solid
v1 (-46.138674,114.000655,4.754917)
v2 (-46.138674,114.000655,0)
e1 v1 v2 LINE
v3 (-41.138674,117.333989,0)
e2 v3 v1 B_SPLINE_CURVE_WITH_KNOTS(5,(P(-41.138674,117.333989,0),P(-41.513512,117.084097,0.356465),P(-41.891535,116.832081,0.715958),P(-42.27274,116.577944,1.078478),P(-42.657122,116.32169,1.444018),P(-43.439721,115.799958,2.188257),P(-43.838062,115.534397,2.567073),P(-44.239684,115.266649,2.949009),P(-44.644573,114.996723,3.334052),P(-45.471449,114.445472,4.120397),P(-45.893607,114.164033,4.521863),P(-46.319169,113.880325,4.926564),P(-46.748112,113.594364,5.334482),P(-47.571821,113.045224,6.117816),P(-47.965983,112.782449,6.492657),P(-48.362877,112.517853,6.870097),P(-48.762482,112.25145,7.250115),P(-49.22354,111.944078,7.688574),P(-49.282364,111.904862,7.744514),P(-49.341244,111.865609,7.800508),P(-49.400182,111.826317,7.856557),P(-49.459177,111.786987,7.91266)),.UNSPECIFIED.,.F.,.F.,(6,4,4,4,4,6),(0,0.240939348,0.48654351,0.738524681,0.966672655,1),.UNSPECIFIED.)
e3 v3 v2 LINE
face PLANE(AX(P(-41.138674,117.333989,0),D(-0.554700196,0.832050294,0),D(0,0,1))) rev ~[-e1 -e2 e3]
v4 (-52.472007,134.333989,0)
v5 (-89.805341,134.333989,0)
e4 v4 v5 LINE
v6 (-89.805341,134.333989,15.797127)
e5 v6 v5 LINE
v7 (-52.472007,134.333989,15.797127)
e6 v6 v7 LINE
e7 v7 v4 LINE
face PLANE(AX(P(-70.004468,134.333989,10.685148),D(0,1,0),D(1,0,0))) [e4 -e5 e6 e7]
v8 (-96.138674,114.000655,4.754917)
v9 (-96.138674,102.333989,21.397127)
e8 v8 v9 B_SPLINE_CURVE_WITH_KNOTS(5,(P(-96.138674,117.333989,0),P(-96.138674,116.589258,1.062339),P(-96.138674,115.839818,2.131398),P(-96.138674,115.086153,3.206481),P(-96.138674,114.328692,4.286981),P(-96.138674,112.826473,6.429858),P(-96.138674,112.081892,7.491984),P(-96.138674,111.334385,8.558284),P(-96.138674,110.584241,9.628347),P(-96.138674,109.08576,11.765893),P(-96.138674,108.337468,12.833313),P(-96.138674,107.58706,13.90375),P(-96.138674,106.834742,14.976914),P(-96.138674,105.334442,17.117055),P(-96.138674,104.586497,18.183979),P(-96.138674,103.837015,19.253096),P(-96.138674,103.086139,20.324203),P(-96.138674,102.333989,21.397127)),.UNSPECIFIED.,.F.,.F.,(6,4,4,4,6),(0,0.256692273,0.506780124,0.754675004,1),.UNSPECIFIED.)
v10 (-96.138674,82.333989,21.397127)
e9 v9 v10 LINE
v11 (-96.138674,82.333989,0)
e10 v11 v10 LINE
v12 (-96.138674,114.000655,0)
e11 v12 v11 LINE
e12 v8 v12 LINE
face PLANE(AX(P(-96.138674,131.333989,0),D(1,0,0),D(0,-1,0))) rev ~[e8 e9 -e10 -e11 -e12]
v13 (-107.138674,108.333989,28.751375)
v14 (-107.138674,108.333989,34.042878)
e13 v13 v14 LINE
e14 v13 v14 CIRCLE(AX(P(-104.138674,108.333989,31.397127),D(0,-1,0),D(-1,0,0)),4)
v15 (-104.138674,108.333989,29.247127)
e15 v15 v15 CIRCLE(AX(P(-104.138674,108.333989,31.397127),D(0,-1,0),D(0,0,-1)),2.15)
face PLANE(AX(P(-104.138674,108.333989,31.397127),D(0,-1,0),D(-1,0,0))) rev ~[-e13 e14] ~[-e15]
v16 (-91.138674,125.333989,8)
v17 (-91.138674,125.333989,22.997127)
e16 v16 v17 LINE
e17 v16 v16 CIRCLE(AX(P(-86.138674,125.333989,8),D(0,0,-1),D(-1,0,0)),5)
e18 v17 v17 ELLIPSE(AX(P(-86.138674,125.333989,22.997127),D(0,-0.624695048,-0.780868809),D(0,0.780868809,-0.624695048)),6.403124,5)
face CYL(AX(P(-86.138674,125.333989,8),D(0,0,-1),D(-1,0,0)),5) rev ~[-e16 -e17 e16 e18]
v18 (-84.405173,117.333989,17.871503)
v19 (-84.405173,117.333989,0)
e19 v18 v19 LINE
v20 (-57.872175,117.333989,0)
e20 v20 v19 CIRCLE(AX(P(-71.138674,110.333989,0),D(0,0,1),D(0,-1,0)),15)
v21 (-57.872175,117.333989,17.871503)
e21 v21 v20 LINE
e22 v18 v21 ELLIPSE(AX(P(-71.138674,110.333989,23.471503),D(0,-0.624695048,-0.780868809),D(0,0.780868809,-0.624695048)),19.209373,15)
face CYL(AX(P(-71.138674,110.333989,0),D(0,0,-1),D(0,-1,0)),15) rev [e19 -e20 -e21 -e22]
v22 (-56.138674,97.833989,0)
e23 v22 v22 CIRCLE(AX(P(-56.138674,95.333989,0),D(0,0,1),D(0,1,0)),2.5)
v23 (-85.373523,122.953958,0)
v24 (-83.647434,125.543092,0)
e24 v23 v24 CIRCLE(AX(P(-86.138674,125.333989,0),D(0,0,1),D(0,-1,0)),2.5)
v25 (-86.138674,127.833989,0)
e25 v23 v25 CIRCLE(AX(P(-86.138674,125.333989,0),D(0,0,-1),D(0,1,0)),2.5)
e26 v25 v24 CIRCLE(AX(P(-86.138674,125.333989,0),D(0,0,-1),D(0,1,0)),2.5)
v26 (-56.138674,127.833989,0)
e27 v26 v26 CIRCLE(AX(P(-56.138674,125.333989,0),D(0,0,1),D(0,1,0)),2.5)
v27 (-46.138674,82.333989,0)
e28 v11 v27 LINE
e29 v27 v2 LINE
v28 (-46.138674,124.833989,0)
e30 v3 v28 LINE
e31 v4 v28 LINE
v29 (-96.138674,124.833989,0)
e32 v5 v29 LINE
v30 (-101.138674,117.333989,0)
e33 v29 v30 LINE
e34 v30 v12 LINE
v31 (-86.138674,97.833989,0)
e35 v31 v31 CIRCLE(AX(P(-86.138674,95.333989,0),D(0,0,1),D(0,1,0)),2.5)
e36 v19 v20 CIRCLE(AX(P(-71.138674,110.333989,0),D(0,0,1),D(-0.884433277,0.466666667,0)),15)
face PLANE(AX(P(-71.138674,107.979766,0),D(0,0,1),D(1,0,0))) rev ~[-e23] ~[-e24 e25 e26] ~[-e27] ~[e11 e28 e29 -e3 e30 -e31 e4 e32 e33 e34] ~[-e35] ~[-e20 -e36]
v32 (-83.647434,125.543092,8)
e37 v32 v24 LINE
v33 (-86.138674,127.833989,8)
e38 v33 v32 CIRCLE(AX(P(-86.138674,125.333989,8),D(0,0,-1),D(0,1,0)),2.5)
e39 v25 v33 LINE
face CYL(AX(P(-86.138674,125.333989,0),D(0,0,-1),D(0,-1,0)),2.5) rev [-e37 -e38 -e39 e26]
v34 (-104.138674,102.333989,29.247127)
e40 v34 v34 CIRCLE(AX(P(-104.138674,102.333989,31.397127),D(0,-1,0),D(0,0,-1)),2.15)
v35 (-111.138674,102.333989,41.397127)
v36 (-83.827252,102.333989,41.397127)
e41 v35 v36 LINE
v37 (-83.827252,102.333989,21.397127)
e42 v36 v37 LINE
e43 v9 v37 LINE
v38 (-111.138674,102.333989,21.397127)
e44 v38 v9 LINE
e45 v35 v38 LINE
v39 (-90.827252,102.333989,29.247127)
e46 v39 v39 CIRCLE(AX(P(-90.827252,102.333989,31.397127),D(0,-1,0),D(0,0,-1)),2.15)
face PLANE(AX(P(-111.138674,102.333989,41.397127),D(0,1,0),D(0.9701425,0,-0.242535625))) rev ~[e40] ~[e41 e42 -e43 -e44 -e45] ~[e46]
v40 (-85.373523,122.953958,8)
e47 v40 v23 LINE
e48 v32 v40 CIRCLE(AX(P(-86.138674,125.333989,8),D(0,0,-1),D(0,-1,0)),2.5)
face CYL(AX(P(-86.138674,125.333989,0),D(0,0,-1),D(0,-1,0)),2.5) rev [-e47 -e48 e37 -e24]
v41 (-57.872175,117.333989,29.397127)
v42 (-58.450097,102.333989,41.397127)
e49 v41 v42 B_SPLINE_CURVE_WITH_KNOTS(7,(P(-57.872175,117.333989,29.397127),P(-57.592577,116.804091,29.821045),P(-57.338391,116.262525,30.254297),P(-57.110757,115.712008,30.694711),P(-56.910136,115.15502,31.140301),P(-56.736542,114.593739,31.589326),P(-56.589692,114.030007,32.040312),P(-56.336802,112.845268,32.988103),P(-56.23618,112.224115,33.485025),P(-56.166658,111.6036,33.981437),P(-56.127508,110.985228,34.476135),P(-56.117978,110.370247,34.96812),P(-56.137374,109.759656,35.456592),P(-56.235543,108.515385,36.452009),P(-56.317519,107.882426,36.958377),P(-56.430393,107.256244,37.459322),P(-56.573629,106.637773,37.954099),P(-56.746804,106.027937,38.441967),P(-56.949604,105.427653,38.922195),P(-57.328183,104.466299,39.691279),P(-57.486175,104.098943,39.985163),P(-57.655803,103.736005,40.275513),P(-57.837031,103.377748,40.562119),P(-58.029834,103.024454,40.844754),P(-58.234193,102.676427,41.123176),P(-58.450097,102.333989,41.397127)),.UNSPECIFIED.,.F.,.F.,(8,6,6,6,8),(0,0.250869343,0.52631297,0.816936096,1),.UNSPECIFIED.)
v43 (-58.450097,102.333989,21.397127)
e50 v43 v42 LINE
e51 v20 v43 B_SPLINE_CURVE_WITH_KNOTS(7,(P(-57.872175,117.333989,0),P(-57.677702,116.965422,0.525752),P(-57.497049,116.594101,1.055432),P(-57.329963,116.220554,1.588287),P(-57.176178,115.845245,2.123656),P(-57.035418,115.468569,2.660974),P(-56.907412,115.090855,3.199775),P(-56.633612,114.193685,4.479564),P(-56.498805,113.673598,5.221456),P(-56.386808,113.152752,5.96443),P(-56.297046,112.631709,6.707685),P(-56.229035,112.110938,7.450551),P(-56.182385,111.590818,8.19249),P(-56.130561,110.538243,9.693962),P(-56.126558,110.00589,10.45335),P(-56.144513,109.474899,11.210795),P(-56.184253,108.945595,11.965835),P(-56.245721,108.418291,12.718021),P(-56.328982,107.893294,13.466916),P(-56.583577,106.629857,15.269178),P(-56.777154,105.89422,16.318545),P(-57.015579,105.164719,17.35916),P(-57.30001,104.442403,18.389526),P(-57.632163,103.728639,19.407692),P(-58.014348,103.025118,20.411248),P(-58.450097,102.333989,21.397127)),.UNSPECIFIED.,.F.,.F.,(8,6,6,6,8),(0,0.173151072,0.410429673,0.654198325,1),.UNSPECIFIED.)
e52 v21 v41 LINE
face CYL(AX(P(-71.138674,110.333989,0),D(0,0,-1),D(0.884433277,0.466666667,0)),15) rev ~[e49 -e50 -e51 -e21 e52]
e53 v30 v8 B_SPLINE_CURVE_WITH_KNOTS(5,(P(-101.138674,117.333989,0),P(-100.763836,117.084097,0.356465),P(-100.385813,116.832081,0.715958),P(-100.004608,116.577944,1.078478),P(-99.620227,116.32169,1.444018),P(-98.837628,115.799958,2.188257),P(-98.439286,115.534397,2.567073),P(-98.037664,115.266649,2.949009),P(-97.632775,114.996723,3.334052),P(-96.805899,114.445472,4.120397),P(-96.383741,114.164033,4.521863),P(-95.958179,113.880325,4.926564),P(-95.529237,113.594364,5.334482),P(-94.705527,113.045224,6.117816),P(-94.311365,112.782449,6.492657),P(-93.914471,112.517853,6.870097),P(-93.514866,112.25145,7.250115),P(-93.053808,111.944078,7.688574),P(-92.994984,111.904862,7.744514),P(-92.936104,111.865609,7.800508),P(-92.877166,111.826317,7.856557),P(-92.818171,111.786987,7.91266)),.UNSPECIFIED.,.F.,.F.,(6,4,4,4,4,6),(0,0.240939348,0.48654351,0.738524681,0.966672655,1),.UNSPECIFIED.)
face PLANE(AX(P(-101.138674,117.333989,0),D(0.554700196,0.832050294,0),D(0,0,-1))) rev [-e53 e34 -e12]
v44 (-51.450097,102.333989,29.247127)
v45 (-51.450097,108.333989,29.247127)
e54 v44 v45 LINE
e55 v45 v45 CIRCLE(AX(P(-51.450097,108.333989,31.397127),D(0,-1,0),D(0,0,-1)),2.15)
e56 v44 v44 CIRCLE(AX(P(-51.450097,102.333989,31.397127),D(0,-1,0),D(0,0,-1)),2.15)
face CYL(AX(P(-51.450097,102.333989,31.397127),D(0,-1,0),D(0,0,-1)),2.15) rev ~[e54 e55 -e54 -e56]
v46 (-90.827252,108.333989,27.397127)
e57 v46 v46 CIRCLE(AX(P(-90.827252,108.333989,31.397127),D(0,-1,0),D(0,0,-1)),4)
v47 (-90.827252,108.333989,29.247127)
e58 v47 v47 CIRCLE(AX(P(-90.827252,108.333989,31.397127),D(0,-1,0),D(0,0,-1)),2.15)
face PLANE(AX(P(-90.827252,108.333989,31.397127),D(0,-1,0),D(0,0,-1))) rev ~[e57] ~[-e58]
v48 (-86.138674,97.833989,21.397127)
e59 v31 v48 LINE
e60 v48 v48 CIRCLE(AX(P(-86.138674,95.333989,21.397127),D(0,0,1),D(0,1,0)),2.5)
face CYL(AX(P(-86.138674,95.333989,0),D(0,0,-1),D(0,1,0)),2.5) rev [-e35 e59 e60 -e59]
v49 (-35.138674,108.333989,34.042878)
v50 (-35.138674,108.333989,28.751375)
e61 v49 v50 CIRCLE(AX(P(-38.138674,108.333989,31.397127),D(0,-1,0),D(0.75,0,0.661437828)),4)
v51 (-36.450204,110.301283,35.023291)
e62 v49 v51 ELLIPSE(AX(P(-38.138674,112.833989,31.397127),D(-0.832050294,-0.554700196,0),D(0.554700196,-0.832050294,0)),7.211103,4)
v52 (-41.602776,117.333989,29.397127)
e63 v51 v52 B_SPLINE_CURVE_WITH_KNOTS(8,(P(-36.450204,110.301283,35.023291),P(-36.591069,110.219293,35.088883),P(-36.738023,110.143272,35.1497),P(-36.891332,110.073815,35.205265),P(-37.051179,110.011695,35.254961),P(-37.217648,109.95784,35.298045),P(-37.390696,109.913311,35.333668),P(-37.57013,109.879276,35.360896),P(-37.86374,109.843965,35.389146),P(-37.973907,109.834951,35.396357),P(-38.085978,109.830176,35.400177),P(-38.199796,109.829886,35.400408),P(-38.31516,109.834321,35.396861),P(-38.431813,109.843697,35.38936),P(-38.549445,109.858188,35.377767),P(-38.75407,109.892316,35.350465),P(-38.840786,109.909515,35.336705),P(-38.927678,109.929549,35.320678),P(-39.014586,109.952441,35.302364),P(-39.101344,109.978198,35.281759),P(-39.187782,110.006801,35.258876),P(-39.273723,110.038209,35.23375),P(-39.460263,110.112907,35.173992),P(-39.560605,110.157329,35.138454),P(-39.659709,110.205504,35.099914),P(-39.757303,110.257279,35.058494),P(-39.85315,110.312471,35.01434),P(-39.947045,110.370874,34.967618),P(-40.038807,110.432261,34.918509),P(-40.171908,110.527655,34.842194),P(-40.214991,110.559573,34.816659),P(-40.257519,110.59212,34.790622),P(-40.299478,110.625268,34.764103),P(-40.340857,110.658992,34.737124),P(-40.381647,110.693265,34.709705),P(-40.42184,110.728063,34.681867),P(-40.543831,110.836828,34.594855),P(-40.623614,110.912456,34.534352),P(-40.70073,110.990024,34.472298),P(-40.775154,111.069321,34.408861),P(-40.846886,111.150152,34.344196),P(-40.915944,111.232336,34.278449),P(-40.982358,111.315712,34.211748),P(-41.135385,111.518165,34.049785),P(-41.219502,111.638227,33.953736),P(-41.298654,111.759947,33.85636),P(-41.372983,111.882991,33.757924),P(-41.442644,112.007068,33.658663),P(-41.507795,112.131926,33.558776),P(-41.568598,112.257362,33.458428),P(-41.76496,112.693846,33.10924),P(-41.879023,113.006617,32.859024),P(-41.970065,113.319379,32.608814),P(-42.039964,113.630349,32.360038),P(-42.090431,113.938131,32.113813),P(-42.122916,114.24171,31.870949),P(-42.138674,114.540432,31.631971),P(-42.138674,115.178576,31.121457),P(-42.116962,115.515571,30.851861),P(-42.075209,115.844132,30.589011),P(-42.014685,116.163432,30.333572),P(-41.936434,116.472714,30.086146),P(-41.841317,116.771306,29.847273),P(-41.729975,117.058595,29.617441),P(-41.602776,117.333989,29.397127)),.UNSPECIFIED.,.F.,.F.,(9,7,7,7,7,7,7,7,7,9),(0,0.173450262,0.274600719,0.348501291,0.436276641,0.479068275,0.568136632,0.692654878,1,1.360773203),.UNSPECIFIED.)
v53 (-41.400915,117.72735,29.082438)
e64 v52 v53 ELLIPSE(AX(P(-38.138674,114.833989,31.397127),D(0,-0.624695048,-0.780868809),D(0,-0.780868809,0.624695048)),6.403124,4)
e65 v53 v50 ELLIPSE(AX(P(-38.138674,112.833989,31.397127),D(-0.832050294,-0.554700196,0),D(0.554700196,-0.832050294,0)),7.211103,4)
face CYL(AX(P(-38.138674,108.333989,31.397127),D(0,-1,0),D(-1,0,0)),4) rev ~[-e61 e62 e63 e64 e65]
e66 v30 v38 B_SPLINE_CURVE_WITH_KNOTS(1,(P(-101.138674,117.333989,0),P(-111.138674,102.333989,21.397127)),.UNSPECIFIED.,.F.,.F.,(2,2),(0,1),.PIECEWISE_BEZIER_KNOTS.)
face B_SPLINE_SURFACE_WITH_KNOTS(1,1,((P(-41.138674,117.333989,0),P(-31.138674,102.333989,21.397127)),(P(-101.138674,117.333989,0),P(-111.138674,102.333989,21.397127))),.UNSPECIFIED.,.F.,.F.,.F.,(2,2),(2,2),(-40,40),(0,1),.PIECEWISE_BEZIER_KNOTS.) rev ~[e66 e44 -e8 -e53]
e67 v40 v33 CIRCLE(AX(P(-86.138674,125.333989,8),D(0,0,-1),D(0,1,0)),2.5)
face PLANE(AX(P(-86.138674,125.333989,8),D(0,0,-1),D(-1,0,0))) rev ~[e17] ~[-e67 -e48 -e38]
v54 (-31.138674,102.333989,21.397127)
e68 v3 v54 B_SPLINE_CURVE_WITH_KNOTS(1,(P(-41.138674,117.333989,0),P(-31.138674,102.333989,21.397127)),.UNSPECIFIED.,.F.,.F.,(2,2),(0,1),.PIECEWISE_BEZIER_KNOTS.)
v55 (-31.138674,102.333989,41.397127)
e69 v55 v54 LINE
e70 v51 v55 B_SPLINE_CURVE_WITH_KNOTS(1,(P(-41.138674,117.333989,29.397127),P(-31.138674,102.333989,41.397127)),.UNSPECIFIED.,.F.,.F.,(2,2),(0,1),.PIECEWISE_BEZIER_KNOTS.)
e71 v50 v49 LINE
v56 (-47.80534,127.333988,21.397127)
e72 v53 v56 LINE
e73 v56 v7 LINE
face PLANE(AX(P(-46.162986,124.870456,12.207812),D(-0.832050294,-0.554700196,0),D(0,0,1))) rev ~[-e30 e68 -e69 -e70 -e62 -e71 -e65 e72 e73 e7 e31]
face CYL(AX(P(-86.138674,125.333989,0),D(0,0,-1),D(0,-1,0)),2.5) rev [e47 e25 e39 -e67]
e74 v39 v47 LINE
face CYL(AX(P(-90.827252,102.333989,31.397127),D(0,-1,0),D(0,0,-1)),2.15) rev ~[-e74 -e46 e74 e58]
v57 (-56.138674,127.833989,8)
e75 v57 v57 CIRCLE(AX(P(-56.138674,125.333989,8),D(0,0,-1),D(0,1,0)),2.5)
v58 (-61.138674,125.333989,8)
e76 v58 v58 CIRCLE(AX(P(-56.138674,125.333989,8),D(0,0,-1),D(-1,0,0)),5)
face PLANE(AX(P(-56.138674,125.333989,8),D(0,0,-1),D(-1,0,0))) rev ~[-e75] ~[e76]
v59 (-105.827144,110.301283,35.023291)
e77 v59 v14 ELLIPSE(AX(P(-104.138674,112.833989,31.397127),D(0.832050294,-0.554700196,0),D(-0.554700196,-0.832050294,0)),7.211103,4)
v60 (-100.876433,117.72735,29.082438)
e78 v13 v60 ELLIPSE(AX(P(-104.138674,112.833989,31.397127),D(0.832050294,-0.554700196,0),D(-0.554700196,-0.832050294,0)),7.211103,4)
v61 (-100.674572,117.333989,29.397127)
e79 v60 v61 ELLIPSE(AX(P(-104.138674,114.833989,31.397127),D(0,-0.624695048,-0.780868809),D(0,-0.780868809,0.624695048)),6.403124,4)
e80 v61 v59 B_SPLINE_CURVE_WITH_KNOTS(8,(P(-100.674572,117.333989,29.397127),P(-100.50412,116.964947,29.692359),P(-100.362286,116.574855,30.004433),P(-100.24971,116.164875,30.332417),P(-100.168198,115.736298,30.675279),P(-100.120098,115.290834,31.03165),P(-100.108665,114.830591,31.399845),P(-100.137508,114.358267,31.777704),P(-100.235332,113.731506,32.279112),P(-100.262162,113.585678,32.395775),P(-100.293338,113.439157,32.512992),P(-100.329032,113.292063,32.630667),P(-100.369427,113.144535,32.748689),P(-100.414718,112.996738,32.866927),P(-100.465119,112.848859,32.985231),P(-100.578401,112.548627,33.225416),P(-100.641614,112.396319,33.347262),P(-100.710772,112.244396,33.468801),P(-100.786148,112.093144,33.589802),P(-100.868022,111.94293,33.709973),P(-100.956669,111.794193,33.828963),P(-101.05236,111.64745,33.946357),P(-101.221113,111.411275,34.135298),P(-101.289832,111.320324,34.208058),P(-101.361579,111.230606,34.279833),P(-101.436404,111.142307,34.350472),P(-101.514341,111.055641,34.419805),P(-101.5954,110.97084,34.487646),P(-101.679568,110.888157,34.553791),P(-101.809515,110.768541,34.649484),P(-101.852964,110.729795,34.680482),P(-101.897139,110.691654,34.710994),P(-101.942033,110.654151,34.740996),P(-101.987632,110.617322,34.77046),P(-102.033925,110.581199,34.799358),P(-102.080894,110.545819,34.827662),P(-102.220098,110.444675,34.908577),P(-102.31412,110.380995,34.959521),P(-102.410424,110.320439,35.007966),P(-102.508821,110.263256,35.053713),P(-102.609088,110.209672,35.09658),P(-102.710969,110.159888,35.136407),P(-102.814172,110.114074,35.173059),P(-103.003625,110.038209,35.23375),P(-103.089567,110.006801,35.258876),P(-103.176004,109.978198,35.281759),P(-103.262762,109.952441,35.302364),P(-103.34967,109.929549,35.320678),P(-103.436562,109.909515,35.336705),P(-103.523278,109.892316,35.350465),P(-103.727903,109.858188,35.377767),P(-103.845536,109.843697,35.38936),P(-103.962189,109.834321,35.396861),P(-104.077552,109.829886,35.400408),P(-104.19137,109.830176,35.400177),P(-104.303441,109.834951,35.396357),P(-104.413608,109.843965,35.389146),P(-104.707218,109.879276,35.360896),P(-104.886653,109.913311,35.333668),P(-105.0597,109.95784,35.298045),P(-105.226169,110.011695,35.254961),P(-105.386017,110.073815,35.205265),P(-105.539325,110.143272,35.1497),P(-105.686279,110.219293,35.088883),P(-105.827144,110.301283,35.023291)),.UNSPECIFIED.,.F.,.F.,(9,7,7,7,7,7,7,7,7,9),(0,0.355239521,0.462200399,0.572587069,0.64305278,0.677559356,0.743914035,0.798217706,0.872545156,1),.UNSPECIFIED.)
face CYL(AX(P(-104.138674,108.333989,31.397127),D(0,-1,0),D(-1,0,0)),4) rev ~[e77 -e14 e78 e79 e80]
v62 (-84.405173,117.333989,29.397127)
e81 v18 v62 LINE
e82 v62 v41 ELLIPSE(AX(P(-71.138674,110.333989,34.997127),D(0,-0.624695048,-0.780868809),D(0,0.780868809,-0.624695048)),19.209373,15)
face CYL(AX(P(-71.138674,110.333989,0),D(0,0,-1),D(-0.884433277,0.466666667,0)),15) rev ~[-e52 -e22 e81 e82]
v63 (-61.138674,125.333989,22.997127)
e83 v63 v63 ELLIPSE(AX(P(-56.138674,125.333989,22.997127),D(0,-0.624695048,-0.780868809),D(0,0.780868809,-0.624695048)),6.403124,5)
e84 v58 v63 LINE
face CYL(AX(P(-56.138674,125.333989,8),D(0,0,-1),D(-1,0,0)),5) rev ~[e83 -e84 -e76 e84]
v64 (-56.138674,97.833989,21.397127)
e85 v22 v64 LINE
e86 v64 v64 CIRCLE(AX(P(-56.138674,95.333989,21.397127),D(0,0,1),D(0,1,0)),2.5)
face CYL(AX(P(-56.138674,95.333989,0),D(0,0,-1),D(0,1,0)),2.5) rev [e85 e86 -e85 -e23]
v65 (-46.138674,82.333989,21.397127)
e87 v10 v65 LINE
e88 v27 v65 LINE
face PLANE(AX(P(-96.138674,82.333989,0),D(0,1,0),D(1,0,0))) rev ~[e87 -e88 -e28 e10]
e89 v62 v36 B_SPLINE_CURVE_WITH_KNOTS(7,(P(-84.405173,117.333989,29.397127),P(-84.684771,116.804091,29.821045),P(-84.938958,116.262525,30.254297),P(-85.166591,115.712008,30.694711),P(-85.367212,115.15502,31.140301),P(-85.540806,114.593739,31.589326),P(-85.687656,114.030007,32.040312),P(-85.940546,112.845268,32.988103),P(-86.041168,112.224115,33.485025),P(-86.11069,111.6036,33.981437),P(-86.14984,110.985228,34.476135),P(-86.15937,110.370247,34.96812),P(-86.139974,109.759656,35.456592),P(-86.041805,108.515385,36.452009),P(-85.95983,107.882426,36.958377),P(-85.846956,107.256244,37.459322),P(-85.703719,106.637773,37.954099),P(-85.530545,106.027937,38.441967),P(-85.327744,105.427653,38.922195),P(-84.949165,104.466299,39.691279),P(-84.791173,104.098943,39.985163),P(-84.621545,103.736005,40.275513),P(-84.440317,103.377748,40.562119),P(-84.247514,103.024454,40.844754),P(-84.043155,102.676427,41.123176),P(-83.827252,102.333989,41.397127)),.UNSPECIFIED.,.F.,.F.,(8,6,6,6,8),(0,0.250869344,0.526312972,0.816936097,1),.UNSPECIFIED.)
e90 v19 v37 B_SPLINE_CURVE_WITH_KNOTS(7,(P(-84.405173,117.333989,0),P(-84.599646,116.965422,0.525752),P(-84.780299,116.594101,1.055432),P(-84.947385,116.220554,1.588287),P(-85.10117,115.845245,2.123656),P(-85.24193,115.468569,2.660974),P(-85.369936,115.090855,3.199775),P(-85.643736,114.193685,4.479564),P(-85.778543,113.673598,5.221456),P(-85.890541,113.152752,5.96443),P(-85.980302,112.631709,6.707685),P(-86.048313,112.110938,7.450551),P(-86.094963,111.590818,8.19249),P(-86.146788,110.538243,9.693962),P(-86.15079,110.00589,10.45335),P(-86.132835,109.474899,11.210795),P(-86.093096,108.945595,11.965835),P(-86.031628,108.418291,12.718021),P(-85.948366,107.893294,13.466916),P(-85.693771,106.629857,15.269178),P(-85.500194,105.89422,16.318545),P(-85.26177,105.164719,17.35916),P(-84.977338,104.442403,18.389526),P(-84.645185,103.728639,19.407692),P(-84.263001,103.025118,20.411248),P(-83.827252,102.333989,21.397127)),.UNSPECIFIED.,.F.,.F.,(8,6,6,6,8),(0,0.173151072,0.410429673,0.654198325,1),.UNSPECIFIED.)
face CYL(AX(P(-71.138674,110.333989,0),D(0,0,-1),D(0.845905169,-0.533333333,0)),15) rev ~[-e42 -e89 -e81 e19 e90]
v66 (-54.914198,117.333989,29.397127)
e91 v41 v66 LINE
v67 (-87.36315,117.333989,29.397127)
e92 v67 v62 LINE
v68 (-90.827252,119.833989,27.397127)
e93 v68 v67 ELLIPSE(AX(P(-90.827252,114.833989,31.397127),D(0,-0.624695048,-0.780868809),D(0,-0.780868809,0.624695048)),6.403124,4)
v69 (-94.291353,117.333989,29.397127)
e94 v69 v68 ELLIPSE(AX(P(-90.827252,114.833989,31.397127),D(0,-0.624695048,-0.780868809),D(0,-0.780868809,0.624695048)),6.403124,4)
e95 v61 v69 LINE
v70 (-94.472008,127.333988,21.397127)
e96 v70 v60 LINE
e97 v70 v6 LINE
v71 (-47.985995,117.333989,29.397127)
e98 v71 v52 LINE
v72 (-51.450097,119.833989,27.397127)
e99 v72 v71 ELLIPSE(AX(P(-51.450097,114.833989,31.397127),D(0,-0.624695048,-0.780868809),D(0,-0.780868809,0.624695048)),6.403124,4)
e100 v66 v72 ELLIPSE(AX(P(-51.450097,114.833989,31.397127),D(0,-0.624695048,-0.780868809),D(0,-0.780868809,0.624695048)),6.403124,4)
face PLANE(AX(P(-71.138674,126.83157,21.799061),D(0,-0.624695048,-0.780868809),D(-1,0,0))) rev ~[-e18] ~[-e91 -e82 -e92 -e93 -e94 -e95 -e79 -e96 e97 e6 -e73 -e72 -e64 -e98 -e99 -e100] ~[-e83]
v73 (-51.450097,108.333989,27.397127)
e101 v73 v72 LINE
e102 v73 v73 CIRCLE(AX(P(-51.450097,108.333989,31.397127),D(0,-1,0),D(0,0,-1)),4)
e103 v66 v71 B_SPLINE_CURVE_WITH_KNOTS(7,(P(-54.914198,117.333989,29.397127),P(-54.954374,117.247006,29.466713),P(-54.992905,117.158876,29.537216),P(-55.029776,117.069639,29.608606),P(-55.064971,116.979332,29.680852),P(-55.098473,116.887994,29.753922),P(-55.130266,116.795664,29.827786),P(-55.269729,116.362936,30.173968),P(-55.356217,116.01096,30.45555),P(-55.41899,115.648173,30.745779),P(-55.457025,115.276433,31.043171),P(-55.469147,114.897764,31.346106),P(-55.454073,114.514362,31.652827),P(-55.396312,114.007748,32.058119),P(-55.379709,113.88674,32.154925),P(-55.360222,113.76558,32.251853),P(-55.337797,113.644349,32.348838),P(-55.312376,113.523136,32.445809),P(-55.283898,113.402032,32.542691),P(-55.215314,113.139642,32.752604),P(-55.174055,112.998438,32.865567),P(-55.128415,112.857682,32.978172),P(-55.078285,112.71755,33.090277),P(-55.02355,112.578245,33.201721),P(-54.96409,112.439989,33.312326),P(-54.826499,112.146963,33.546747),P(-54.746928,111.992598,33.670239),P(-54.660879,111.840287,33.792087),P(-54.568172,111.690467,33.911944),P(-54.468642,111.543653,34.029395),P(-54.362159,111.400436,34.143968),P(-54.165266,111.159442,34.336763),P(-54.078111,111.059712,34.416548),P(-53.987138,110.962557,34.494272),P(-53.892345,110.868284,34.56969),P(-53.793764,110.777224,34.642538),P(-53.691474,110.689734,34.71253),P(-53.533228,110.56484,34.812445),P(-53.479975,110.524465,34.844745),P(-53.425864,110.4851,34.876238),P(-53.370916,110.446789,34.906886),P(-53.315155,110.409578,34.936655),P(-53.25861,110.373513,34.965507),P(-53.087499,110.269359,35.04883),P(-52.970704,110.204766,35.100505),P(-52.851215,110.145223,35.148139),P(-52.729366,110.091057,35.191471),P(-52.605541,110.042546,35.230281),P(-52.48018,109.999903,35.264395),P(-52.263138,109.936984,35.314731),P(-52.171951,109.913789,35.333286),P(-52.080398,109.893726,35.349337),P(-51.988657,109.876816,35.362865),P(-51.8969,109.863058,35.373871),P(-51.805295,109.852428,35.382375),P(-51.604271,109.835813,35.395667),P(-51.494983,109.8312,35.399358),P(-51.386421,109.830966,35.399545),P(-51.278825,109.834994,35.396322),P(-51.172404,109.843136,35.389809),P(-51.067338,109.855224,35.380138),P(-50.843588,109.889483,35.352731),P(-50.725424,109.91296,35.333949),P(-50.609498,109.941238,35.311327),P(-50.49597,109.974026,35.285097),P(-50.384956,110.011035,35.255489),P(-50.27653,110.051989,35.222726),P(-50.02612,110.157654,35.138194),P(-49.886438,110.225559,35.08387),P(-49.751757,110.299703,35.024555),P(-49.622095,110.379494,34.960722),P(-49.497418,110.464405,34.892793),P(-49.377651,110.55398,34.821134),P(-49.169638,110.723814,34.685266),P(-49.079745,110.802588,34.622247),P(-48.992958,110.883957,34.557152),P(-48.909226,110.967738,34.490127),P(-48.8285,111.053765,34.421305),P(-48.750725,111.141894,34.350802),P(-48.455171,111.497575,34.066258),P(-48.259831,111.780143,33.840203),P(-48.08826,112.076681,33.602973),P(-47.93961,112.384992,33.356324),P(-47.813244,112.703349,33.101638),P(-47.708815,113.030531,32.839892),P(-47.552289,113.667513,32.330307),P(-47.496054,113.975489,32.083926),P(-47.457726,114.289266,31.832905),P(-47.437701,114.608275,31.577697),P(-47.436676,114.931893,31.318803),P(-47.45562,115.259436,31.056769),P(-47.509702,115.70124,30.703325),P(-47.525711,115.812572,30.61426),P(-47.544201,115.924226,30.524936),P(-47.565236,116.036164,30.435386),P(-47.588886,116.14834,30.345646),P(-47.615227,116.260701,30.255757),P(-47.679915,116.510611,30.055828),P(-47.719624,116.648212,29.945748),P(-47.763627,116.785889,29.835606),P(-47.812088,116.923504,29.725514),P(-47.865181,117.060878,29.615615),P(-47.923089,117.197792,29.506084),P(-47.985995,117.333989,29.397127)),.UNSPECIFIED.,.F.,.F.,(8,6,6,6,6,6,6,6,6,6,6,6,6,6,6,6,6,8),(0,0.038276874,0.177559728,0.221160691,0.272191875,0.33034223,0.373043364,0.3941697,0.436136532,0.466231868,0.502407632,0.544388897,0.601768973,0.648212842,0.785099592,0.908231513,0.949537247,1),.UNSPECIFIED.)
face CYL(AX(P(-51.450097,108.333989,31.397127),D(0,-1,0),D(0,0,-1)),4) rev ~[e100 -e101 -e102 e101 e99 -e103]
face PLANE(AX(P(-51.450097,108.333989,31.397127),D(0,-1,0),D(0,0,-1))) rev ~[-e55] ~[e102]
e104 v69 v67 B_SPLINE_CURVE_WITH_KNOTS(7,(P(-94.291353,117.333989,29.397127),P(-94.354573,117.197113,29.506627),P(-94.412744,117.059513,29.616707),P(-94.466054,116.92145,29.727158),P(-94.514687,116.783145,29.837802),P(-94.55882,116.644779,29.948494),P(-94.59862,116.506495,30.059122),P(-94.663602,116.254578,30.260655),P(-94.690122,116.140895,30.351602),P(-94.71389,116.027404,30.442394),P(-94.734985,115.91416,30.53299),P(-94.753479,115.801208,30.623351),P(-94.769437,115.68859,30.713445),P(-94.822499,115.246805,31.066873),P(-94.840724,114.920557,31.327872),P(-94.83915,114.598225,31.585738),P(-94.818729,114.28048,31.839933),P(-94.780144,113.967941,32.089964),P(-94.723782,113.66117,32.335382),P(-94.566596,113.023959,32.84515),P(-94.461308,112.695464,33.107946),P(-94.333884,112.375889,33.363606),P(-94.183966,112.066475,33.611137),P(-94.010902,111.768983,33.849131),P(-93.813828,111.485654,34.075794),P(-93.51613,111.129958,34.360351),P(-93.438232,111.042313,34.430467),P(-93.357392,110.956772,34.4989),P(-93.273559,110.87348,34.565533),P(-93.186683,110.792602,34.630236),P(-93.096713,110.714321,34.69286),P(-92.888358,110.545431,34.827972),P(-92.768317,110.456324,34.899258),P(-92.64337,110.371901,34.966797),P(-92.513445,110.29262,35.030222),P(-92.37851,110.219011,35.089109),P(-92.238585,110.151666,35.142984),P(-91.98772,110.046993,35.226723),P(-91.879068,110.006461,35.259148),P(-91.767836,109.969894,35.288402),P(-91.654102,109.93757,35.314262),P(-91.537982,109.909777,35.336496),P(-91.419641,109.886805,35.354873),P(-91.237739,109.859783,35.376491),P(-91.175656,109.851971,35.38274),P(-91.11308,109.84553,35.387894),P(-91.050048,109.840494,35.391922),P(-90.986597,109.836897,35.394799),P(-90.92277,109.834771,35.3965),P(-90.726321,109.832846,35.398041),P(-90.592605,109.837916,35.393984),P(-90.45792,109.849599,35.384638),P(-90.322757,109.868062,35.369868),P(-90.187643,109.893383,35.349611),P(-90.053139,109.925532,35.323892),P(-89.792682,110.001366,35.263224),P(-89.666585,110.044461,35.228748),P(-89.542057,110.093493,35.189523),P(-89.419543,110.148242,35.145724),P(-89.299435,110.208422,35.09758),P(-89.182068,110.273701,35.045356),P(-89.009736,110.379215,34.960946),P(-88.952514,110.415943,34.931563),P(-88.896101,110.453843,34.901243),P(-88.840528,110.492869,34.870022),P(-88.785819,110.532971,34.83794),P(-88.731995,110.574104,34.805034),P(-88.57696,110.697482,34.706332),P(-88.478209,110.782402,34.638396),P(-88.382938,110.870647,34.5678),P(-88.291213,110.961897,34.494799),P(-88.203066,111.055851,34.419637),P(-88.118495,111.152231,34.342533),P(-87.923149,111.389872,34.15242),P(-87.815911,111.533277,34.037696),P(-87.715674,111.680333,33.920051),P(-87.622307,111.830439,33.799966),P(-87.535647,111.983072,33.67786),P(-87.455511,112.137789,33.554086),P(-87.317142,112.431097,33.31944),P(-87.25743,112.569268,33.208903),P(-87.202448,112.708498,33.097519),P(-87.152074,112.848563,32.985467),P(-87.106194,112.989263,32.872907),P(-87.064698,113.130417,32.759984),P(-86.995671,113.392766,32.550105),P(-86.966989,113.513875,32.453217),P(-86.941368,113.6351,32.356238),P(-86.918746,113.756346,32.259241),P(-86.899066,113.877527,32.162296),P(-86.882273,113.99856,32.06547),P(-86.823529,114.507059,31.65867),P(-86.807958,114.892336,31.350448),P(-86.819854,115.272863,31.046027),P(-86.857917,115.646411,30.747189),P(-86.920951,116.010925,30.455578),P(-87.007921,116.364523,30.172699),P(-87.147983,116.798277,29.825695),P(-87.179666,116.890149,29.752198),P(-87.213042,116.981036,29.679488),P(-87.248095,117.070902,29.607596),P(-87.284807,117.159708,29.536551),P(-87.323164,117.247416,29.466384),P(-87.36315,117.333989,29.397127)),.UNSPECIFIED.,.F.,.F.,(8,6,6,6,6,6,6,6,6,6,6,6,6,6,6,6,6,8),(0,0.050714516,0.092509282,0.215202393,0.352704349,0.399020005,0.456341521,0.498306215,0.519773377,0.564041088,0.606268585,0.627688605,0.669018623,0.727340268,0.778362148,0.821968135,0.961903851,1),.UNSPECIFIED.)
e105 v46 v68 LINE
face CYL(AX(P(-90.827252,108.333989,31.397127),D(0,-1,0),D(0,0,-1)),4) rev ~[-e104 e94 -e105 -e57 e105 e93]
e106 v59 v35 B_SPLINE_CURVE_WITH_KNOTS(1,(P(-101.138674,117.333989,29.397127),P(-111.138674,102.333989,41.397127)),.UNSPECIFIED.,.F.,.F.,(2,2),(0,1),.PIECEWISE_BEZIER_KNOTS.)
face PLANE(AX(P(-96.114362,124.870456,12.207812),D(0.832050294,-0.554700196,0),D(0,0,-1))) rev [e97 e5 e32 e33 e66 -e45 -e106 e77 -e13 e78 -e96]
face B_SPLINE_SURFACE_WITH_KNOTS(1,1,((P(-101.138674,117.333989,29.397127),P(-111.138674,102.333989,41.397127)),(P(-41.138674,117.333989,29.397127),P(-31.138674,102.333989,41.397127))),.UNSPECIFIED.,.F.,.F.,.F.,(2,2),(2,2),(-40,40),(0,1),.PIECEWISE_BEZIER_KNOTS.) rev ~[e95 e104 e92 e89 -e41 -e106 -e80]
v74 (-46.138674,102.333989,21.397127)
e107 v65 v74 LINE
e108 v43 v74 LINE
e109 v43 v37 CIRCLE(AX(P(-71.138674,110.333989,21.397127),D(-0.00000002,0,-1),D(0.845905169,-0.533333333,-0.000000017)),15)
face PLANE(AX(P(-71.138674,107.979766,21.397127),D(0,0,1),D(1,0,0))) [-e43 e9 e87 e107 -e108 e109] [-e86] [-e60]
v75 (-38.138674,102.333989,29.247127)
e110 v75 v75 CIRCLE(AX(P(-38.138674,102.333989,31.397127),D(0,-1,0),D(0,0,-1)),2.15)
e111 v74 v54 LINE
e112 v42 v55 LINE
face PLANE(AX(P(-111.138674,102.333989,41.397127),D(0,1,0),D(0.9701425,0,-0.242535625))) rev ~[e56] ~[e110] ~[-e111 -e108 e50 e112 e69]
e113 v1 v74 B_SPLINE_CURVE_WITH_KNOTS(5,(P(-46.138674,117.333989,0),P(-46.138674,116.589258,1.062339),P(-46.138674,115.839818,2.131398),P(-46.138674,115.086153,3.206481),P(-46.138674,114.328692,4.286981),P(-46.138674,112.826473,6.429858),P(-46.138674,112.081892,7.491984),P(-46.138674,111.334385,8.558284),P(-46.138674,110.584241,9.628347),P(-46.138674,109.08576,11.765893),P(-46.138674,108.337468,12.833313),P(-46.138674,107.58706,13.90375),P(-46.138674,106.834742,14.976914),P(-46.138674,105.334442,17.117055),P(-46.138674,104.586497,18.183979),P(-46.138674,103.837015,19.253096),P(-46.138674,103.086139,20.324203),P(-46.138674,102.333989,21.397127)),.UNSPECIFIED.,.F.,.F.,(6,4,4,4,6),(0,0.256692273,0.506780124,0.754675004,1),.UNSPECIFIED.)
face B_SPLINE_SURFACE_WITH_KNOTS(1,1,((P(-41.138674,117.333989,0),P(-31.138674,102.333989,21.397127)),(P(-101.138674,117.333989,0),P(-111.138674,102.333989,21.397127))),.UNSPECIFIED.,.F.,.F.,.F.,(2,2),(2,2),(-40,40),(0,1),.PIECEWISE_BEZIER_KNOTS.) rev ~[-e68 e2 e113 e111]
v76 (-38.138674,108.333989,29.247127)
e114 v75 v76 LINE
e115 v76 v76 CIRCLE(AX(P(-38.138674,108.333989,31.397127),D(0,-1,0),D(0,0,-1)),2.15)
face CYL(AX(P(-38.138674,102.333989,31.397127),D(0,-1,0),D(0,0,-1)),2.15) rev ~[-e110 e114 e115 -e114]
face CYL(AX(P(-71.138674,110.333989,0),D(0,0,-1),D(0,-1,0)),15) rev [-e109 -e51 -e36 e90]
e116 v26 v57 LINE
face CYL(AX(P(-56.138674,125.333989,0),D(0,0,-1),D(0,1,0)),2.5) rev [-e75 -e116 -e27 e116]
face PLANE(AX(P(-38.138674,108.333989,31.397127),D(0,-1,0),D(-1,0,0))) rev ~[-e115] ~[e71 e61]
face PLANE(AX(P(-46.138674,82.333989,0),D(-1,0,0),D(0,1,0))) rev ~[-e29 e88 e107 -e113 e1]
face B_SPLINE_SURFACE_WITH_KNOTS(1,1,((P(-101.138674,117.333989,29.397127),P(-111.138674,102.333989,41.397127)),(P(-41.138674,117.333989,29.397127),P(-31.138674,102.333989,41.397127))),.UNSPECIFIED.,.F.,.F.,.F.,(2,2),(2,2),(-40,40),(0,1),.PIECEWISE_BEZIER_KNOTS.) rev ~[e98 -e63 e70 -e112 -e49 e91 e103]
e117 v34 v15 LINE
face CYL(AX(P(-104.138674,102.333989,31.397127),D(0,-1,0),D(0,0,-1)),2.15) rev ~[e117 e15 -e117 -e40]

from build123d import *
from build123d.topology import SkipClean

# Parameters (mm, degrees)
EXTRUDE1_DEPTH  = 21.397127
SKETCH4_W       = 60
SKETCH4_H       = 29.397126503
SKETCH3_W       = 80
SKETCH3_H       = 20
EXTRUDE2_DEPTH  = 10
EXTRUDE3_DEPTH  = 9
SKETCH7_W       = 60.014196904
SKETCH7_H       = 26.778889024
EXTRUDE4_DEPTH  = 11
SKETCH8_W       = 71.467077652
SKETCH8_H       = 25.017155062
EXTRUDE5_DEPTH  = 23
SKETCH9_W       = 59.977554146
SKETCH9_H       = 30.874003366
EXTRUDE6_DEPTH  = 7
SKETCH10_R      = 2.5
EXTRUDE7_DEPTH  = 65
SKETCH12_R      = 5
EXTRUDE8_DEPTH  = 65
SKETCH13_R      = 2.15
EXTRUDE9_DEPTH  = 65
SKETCH14_R      = 4
EXTRUDE10_DEPTH = 65


with BuildPart() as part:
    # Sketch1 → Extrude1 (new body)
    with BuildSketch(Plane.XY):
        with BuildLine():
            Line((-96.138674094, 82.333988555), (-46.138674094, 82.333988555))
            Line((-46.138674094, 82.333988555), (-46.138674094, 131.333988555))
            ThreePointArc((-46.138674094, 131.333988555), (-47.017353751, 133.455308898), (-49.138674094, 134.333988555))
            Line((-49.138674094, 134.333988555), (-93.138674094, 134.333988555))
            ThreePointArc((-93.138674094, 134.333988555), (-95.259994438, 133.455308898), (-96.138674094, 131.333988555))
            Line((-96.138674094, 131.333988555), (-96.138674094, 82.333988555))
        make_face()
        with BuildLine():
            ThreePointArc((-86.138674094, 92.833988555), (-83.638674094, 95.333988555), (-86.138674094, 97.833988555))
            ThreePointArc((-86.138674094, 97.833988555), (-88.638674094, 95.333988555), (-86.138674094, 92.833988555))
        make_face(mode=Mode.SUBTRACT)
        with BuildLine():
            ThreePointArc((-56.138674094, 92.833988555), (-53.638674094, 95.333988555), (-56.138674094, 97.833988555))
            ThreePointArc((-56.138674094, 97.833988555), (-58.638674094, 95.333988555), (-56.138674094, 92.833988555))
        make_face(mode=Mode.SUBTRACT)
        with BuildLine():
            ThreePointArc((-86.138674094, 127.833988555), (-88.638674094, 125.333988555), (-86.138674094, 122.833988555))
            ThreePointArc((-86.138674094, 122.833988555), (-83.638674094, 125.333988555), (-86.138674094, 127.833988555))
        make_face(mode=Mode.SUBTRACT)
        with BuildLine():
            ThreePointArc((-56.138674094, 122.833988555), (-53.638674094, 125.333988555), (-56.138674094, 127.833988555))
            ThreePointArc((-56.138674094, 127.833988555), (-58.638674094, 125.333988555), (-56.138674094, 122.833988555))
        make_face(mode=Mode.SUBTRACT)
        with BuildLine():
            ThreePointArc((-71.138674094, 125.333988555), (-86.138674094, 110.333988555), (-71.138674094, 95.333988555))
            ThreePointArc((-71.138674094, 95.333988555), (-56.138674094, 110.333988555), (-71.138674094, 125.333988555))
        make_face(mode=Mode.SUBTRACT)
    extrude(amount=EXTRUDE1_DEPTH)

    # Sketch4 → Loft1 section 0
    with BuildSketch(Plane(origin=(0, 117.333988555, 0), x_dir=(1, 0, 0), z_dir=(0, 1, 0))):
        with Locations((-71.138674094, -14.698563252)):
            Rectangle(SKETCH4_W, SKETCH4_H)
    # Sketch3 → Loft1 section 1
    with BuildSketch(Plane(origin=(0, 102.333988555, 0), x_dir=(1, 0, 0), z_dir=(0, 1, 0))):
        with Locations((-71.138674094, -31.397126503)):
            Rectangle(SKETCH3_W, SKETCH3_H)
    loft()

    # Sketch5 → Extrude2 (add)
    with BuildSketch(Plane(origin=(25.673528037, 17.115685358, 0), x_dir=(0, 0, -1), z_dir=(0.8320502943378439, 0.5547001962252289, 0))):
        Polygon((-29.397126503, 120.447410305), (-15.115551494, 141.902806552), (0, 141.902806552), (0, 120.447410305), align=None)
    extrude2 = extrude(amount=-EXTRUDE2_DEPTH)

    # Mirror1: Extrude2 across plane
    add(extrude2.mirror(Plane(origin=(-71.138674094, 0, 0), x_dir=(0, 0, 1), z_dir=(1, 0, 0))))

    # Sketch6 → Extrude3 (add)
    with BuildSketch(Plane(origin=(0, 60.128935291, 75.161169114), x_dir=(1, 0, 0), z_dir=(0, 0.6246950475544204, 0.7808688094430335))):
        Polygon((-101.138674094, 73.258212611), (-85.265778398, 103.749049557), (-57.011569791, 103.749049557), (-41.138674094, 73.258212611), align=None)
    extrude(amount=-EXTRUDE3_DEPTH)

    # Sketch7 → Extrude4 (cut)
    with BuildSketch(Plane(origin=(0, 60.128935291, 75.161169114), x_dir=(1, 0, 0), z_dir=(0, 0.6246950475544204, 0.7808688094430335))):
        with Locations((-68.308122793, 89.258337759)):
            Rectangle(SKETCH7_W, SKETCH7_H)
    extrude(amount=EXTRUDE4_DEPTH, mode=Mode.SUBTRACT)

    # Sketch8 → Extrude5 (cut)
    with BuildSketch(Plane(origin=(-124.173230629, 82.782153753, 0), x_dir=(0, 0, 1), z_dir=(-0.8320502943378424, 0.554700196225231, 1.5396023240333535e-15))):
        with Locations((13.757489511, 55.477649782)):
            Rectangle(SKETCH8_W, SKETCH8_H)
    extrude5 = extrude(amount=EXTRUDE5_DEPTH, mode=Mode.SUBTRACT)

    # Mirror2: Extrude5 across plane
    add(extrude5.mirror(Plane(origin=(-71.138674094, 0, 0), x_dir=(0, 0, 1), z_dir=(1, 0, 0))), mode=Mode.SUBTRACT)

    # Sketch9 → Extrude6 (cut)
    with BuildSketch(Plane(origin=(0, 134.333988555, 0), x_dir=(1, 0, 0), z_dir=(0, 1, 0))):
        with Locations((-70.004468298, -10.685148069)):
            Rectangle(SKETCH9_W, SKETCH9_H)
    extrude(amount=EXTRUDE6_DEPTH, mode=Mode.SUBTRACT)

    # Sketch10 → Extrude7 (cut)
    with SkipClean():  # the faces are left unmerged after this step: merging them gives an invalid solid
        with BuildSketch(Plane(origin=(0, 0, 0), x_dir=(-1, 0, 0), z_dir=(0, 0, -1))):
            with BuildLine():
                ThreePointArc((84.405173256, 117.333988555), (71.138674094, 125.333988555), (57.872174933, 117.333988555))
                ThreePointArc((57.872174933, 117.333988555), (56.149794828, 109.756495394), (58.450096554, 102.333988555))
                ThreePointArc((58.450096554, 102.333988555), (78.644238587, 97.346821748), (84.405173256, 117.333988555))
            make_face()
            with Locations(Location((56.138674094, 125.333988555, 0), (0, 0, 90))):
                Circle(SKETCH10_R)
            with Locations(Location((86.138674094, 125.333988555, 0), (0, 0, 90))):
                Circle(SKETCH10_R)
        extrude(amount=-EXTRUDE7_DEPTH, mode=Mode.SUBTRACT)

    # Sketch12 → Extrude8 (cut)
    with SkipClean():  # the faces are left unmerged after this step: merging them gives an invalid solid
        with BuildSketch(Plane(origin=(0, 0, 8), x_dir=(-1, 0, 0), z_dir=(0, 0, -1))):
            with Locations((86.138674094, 125.333988555)):
                Circle(SKETCH12_R)
            with Locations((56.138674094, 125.333988555)):
                Circle(SKETCH12_R)
        extrude(amount=-EXTRUDE8_DEPTH, mode=Mode.SUBTRACT)

    # Sketch13 → Extrude9 (cut)
    with BuildSketch(Plane.XZ.offset(-102.333988555)):
        with Locations(Location((-104.138674094, 31.397126503, 0), (0, 0, 270))):
            Circle(SKETCH13_R)
        with Locations(Location((-90.827251635, 31.397126503, 0), (0, 0, 270))):
            Circle(SKETCH13_R)
        with Locations(Location((-51.450096554, 31.397126503, 0), (0, 0, 270))):
            Circle(SKETCH13_R)
        with Locations(Location((-38.138674094, 31.397126503, 0), (0, 0, 270))):
            Circle(SKETCH13_R)
    extrude(amount=-EXTRUDE9_DEPTH, mode=Mode.SUBTRACT)

    # Sketch14 → Extrude10 (cut)
    with BuildSketch(Plane(origin=(0, 108.333988555, 0), x_dir=(-1, 0, 0), z_dir=(0, -1, 0))):
        with Locations((104.138674094, -31.397126503)):
            Circle(SKETCH14_R)
        with Locations(Location((90.827251635, -31.397126503, 0), (0, 0, 90))):
            Circle(SKETCH14_R)
        with Locations(Location((51.450096554, -31.397126503, 0), (0, 0, 90))):
            Circle(SKETCH14_R)
        with Locations((38.138674094, -31.397126503)):
            Circle(SKETCH14_R)
    extrude(amount=-EXTRUDE10_DEPTH, mode=Mode.SUBTRACT)


solid = part.part
